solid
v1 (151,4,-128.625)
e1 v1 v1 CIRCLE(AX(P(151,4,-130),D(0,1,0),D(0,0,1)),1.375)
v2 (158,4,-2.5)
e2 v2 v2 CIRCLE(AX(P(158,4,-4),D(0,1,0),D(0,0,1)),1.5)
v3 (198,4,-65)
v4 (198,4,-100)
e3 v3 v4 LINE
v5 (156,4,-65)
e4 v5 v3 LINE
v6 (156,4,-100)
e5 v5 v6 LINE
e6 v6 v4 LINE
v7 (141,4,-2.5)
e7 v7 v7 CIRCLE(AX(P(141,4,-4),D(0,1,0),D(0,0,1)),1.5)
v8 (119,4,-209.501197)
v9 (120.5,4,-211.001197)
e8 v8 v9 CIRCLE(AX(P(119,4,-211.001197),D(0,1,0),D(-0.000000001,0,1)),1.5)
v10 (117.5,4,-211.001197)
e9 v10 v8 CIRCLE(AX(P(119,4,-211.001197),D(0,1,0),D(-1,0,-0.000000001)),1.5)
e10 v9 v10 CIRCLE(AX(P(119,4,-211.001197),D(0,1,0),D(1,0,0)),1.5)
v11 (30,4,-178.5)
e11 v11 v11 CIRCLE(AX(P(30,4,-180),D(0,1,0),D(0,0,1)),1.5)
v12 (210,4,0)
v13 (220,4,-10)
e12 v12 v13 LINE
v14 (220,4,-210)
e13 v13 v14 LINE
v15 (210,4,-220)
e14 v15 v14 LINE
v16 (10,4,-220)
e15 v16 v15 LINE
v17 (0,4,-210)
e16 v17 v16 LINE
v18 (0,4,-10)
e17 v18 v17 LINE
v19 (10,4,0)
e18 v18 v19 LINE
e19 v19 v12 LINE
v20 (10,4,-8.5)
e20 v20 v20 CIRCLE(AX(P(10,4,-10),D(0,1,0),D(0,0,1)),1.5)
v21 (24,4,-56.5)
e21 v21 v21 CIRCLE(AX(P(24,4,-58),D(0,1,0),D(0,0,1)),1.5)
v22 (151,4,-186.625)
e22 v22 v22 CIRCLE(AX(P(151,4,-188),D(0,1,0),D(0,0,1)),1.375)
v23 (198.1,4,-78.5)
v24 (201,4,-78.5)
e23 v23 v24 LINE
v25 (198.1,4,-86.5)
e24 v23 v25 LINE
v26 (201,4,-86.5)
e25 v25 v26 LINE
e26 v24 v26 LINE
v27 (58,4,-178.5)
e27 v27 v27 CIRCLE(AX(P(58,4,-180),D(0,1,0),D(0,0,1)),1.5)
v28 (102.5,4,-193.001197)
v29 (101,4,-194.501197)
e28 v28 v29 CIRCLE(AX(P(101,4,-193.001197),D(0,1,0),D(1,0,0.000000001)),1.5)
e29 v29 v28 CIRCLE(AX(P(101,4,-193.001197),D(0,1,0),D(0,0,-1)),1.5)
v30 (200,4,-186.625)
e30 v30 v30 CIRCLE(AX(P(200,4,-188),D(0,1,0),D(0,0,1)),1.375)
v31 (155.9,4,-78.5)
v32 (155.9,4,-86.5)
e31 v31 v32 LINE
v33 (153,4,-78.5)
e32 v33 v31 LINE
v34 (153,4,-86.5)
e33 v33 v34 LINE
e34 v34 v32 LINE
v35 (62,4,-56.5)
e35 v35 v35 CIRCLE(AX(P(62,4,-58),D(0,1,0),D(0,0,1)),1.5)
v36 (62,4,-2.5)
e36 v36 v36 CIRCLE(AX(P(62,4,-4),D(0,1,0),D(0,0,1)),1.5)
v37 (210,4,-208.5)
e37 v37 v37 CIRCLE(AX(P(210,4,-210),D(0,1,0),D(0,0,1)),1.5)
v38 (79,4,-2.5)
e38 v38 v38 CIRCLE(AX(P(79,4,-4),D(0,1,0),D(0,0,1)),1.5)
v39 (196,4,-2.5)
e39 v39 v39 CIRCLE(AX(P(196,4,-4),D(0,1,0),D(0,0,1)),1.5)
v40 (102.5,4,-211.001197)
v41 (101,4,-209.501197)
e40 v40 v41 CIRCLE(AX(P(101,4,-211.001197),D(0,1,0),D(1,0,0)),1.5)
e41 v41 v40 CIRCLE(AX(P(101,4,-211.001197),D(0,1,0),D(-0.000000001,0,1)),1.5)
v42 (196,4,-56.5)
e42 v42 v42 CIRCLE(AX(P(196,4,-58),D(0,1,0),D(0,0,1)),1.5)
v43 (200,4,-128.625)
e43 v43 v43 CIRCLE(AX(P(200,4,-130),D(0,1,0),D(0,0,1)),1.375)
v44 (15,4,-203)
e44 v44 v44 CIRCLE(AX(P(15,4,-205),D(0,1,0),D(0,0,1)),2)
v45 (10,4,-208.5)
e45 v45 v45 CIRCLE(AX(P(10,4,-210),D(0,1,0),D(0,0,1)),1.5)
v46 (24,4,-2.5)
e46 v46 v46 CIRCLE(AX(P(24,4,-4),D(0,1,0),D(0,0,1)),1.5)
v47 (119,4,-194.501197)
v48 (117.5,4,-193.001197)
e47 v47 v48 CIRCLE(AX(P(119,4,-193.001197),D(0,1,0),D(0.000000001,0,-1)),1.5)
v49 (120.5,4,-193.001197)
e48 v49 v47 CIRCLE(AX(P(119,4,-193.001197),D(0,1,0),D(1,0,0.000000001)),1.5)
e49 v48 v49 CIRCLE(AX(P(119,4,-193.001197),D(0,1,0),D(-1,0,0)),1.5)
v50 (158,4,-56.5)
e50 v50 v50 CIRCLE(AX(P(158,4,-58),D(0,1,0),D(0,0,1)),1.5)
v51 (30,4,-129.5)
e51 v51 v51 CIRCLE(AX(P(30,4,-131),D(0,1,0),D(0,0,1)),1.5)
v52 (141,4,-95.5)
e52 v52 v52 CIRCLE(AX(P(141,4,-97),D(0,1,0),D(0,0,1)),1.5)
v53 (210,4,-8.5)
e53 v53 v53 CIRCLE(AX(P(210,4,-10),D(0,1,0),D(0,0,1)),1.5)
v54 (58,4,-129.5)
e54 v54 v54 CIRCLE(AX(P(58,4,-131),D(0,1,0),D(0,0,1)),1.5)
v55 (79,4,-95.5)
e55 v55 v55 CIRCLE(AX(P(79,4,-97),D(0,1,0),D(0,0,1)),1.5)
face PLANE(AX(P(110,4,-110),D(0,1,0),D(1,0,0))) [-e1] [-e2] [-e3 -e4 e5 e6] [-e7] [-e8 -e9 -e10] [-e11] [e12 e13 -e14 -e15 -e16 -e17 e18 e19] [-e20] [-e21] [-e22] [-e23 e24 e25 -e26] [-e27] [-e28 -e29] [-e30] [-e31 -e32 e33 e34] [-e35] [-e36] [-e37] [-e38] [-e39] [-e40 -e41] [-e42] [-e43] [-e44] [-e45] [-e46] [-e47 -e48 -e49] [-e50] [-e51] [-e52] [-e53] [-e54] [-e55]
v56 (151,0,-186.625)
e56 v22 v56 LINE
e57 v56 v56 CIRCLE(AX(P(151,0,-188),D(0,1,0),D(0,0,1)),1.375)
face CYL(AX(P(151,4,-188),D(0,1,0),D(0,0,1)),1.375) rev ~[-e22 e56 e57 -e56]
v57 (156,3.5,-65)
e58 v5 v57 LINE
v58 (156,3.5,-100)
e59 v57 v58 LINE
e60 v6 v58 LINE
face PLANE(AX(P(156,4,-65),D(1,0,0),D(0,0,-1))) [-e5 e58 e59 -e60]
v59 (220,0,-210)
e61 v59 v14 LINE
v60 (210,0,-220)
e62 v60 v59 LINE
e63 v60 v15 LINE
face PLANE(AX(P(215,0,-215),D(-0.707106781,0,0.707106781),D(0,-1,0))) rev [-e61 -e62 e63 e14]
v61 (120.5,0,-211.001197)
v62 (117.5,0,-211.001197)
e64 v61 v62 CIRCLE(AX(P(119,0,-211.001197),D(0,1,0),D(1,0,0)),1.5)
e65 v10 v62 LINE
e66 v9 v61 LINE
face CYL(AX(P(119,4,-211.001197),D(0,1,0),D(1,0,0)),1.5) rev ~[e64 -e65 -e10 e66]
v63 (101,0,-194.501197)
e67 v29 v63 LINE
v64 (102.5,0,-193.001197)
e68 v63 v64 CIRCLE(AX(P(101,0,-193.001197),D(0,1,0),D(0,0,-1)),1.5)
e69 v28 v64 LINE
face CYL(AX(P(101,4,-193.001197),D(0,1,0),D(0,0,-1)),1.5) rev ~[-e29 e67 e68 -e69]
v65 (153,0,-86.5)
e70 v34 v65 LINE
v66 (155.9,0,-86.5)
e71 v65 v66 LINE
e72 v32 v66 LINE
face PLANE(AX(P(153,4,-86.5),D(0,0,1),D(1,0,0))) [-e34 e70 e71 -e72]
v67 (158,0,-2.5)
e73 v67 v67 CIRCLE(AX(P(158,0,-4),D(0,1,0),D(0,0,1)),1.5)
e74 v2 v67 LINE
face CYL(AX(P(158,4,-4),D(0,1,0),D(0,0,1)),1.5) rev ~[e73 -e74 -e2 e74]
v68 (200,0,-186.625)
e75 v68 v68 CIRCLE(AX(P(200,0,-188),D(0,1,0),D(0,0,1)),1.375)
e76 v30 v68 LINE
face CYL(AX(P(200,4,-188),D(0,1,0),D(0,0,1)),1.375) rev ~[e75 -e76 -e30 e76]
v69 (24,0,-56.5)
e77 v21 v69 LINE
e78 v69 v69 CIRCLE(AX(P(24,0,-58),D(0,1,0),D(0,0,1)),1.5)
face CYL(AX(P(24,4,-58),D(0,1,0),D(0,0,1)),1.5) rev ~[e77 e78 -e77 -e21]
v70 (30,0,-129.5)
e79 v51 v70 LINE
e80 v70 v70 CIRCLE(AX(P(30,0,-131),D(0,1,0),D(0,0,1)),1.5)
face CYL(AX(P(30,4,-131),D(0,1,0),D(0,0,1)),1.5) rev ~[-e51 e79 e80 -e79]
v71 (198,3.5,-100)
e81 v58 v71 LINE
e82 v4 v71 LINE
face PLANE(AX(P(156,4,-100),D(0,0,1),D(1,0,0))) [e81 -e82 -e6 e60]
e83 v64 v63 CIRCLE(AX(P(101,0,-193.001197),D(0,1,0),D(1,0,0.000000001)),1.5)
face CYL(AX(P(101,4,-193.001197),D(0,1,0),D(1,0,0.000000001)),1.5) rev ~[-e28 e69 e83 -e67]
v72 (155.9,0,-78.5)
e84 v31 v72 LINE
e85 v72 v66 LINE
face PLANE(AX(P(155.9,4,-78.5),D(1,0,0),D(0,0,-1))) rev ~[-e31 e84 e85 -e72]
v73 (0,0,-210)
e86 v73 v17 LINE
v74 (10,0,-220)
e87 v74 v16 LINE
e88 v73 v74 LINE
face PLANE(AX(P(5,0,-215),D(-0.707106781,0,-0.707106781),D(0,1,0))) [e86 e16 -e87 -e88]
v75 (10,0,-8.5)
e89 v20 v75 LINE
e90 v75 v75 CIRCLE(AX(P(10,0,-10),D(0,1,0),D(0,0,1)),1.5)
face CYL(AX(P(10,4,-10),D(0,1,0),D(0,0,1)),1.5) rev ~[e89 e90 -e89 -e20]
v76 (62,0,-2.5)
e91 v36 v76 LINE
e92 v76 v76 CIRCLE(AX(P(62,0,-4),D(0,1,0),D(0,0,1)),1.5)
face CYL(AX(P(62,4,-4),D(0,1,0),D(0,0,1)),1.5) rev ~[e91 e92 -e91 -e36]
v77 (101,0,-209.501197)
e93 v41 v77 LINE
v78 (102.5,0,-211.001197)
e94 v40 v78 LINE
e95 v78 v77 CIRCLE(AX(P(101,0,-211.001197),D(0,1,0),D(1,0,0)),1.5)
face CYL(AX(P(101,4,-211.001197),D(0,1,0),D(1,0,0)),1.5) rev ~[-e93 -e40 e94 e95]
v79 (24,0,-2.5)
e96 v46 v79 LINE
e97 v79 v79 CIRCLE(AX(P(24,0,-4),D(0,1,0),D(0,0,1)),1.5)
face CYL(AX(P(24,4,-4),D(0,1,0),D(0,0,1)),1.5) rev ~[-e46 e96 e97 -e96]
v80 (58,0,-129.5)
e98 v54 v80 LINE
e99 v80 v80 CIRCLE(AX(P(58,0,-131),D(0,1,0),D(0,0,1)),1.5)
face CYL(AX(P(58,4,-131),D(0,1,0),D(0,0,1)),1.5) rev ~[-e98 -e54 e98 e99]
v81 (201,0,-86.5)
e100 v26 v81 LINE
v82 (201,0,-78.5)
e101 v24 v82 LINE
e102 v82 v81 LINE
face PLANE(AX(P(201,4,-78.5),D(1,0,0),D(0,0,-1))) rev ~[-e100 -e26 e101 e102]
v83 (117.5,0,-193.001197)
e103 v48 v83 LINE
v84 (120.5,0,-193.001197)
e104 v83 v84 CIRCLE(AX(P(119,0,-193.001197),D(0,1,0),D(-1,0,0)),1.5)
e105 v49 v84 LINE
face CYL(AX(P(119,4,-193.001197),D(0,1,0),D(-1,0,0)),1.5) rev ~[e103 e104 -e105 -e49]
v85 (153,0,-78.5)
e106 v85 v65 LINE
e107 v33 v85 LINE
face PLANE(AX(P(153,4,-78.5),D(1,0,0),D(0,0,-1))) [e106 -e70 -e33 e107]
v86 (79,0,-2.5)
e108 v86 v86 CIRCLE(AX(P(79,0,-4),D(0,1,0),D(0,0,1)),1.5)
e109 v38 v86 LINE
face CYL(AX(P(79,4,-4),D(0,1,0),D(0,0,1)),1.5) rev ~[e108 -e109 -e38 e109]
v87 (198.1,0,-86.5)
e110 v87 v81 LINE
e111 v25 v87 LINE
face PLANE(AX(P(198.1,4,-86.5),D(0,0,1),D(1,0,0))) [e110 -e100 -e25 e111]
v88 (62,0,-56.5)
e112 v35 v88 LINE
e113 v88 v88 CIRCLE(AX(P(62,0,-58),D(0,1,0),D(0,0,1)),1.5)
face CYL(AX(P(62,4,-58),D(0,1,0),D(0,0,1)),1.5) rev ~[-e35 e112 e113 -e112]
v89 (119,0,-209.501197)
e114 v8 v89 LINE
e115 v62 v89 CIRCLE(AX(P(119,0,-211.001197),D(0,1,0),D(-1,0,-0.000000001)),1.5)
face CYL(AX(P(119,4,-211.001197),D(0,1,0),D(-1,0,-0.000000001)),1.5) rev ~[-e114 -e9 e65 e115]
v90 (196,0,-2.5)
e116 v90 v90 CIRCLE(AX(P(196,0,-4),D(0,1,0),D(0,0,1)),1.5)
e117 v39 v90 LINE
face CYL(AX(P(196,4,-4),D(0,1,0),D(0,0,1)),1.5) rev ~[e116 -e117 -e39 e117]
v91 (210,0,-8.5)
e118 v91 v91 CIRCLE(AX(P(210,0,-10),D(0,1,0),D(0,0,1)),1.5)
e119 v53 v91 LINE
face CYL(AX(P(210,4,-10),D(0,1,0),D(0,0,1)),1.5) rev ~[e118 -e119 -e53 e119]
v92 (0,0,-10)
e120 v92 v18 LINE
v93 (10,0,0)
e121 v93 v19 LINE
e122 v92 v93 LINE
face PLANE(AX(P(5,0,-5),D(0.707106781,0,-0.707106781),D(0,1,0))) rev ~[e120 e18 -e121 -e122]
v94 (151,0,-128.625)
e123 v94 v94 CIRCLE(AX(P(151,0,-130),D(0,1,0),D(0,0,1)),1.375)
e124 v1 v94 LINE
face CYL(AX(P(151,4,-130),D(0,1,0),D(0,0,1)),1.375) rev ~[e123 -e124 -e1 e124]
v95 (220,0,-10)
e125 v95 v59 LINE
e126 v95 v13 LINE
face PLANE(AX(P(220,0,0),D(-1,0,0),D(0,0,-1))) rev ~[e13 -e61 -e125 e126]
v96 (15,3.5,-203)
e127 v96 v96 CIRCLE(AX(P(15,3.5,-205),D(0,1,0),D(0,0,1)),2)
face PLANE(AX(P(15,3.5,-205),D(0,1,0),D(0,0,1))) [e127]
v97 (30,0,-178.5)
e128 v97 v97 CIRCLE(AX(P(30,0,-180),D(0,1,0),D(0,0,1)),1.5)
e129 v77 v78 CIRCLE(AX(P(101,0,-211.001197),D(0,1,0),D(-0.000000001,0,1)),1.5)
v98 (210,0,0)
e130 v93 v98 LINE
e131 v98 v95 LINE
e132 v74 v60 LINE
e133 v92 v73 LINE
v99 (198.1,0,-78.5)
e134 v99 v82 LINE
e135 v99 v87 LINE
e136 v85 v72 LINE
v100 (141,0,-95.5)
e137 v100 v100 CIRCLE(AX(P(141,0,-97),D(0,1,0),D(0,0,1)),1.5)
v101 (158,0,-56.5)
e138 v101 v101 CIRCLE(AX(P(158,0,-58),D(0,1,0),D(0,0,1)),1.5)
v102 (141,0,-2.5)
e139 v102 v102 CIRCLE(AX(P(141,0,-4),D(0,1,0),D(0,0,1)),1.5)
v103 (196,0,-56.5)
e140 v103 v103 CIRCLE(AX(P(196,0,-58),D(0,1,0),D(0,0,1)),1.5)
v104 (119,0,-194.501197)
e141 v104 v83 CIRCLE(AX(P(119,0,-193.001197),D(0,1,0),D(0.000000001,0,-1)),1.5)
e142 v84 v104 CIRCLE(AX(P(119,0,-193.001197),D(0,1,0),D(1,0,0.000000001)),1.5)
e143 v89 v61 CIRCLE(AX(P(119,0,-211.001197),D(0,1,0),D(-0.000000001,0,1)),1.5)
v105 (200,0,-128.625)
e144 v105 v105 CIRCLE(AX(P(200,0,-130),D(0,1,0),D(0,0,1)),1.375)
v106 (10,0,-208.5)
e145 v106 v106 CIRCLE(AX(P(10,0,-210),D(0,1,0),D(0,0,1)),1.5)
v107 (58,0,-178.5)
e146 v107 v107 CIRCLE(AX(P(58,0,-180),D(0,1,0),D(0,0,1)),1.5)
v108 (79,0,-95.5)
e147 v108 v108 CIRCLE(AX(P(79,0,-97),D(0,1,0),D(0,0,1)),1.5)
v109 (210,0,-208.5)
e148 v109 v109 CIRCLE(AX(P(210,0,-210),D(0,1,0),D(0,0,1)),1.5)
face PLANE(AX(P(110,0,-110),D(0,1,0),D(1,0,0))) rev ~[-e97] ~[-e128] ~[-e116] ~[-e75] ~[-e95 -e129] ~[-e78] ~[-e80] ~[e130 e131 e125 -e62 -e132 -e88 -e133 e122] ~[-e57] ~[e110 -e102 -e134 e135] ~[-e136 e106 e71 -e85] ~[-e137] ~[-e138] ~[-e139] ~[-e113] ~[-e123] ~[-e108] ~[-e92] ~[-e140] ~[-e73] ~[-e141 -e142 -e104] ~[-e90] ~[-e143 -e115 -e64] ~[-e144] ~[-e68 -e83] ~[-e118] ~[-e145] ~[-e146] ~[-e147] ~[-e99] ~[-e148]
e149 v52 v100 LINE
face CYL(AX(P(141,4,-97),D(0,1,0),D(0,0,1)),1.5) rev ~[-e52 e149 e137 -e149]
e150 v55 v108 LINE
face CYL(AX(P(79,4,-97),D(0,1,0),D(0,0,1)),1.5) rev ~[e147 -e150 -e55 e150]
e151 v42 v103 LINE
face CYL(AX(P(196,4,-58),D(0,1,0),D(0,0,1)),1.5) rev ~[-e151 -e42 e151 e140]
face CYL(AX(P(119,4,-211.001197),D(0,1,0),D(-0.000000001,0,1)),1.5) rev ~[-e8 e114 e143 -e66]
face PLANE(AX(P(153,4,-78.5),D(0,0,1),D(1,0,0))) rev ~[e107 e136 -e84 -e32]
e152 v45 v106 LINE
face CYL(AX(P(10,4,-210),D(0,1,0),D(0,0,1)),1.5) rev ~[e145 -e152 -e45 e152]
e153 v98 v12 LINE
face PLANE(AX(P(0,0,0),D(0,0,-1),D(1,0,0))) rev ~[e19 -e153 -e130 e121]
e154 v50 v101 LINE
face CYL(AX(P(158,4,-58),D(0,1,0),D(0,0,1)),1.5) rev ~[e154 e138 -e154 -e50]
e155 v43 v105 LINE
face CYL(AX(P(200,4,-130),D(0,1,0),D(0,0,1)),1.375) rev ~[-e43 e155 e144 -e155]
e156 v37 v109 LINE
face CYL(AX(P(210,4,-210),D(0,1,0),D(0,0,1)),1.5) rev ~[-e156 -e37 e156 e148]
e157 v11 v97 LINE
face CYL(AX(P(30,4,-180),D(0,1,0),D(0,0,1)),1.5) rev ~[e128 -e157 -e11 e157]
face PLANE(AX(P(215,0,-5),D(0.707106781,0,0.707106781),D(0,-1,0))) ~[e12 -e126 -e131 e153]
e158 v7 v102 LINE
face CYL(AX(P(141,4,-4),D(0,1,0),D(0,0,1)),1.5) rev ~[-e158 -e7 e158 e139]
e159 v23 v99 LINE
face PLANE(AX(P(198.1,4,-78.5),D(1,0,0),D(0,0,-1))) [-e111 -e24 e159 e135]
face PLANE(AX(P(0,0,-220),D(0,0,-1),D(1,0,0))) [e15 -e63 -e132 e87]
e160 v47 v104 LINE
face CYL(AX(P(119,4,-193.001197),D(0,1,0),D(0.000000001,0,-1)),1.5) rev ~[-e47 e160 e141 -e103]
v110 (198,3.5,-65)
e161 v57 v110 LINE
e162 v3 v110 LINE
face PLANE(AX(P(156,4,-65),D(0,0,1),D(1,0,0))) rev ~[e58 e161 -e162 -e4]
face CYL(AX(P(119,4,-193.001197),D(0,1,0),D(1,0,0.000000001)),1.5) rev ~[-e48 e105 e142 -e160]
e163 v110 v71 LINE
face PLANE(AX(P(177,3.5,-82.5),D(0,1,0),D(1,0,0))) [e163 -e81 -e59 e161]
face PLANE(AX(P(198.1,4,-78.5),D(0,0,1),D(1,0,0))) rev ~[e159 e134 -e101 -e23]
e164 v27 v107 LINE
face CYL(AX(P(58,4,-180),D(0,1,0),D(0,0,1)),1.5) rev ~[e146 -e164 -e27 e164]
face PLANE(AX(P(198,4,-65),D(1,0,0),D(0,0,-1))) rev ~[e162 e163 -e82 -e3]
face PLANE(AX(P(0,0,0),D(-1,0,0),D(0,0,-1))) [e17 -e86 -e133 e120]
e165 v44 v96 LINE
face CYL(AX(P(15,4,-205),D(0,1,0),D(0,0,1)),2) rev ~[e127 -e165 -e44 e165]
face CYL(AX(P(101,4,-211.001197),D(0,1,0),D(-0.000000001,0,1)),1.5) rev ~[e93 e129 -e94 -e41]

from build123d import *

# Parameters (mm, degrees)
SKETCH1_W           = 220
SKETCH1_H           = 220
BOSS_EXTRUDE1_DEPTH = 4
SKETCH2_R           = 1.5
CUT_EXTRUDE1_DEPTH  = 8
SKETCH3_R           = 1.5
CUT_EXTRUDE2_DEPTH  = 8
CHAMFER1_SIZE       = 10
SKETCH4_R           = 1.375
CUT_EXTRUDE3_DEPTH  = 4
SKETCH5_R           = 2
CUT_EXTRUDE4_DEPTH  = 0.5
SKETCH6_W           = 42
SKETCH6_H           = 35
CUT_EXTRUDE5_DEPTH  = 0.5
SKETCH7_W           = 2.9
SKETCH7_H           = 8
CUT_EXTRUDE6_DEPTH  = 312.152695634
SKETCH9_R           = 1.5
CUT_EXTRUDE7_DEPTH  = 8
SKETCH10_R          = 1.5
CUT_EXTRUDE8_DEPTH  = 312.152695634
CUT_EXTRUDE9_DEPTH  = 46
SKETCH12_R          = 1.5
CUT_EXTRUDE11_DEPTH = 312.152695634


with BuildPart() as part:
    # Sketch1 → Boss-Extrude1 (new body)
    with BuildSketch(Plane(origin=(0, 0, 0), x_dir=(1, 0, 0), z_dir=(0, 1, 0))):
        with Locations((110, 110)):
            Rectangle(SKETCH1_W, SKETCH1_H)
    extrude(amount=BOSS_EXTRUDE1_DEPTH)

    # Sketch2 → Cut-Extrude1 (cut)
    with BuildSketch(Plane(origin=(0, 4, 0), x_dir=(1, 0, 0), z_dir=(0, 1, 0))):
        with Locations(Location((196, 4, 0), (0, 0, 270))):
            Circle(SKETCH2_R)
        with Locations(Location((158, 4, 0), (0, 0, 270))):
            Circle(SKETCH2_R)
        with Locations(Location((196, 58, 0), (0, 0, 270))):
            Circle(SKETCH2_R)
        with Locations(Location((158, 58, 0), (0, 0, 270))):
            Circle(SKETCH2_R)
    extrude(amount=-CUT_EXTRUDE1_DEPTH, mode=Mode.SUBTRACT)

    # Sketch3 → Cut-Extrude2 (cut)
    with BuildSketch(Plane(origin=(0, 4, 0), x_dir=(1, 0, 0), z_dir=(0, 1, 0))):
        with Locations(Location((62, 4, 0), (0, 0, 270))):
            Circle(SKETCH3_R)
        with Locations(Location((24, 4, 0), (0, 0, 270))):
            Circle(SKETCH3_R)
        with Locations(Location((62, 58, 0), (0, 0, 270))):
            Circle(SKETCH3_R)
        with Locations(Location((24, 58, 0), (0, 0, 270))):
            Circle(SKETCH3_R)
    extrude(amount=-CUT_EXTRUDE2_DEPTH, mode=Mode.SUBTRACT)

    # Chamfer1
    chamfer1_edges = [part.edges().sort_by_distance(p)[0] for p in [
        (0, 2, -220),
        (220, 2, -220),
        (220, 2, 0),
        (0, 2, 0),
    ]]
    chamfer(chamfer1_edges, length=CHAMFER1_SIZE)

    # Sketch4 → Cut-Extrude3 (cut)
    with BuildSketch(Plane(origin=(0, 4, 0), x_dir=(1, 0, 0), z_dir=(0, 1, 0))):
        with Locations(Location((151, 130, 0), (0, 0, 270))):
            Circle(SKETCH4_R)
        with Locations(Location((200, 130, 0), (0, 0, 270))):
            Circle(SKETCH4_R)
        with Locations(Location((151, 188, 0), (0, 0, 270))):
            Circle(SKETCH4_R)
        with Locations(Location((200, 188, 0), (0, 0, 270))):
            Circle(SKETCH4_R)
    extrude(amount=-CUT_EXTRUDE3_DEPTH, mode=Mode.SUBTRACT)

    # Sketch5 → Cut-Extrude4 (cut)
    with BuildSketch(Plane(origin=(0, 4, 0), x_dir=(1, 0, 0), z_dir=(0, 1, 0))):
        with Locations(Location((15, 205, 0), (0, 0, 270))):
            Circle(SKETCH5_R)
    extrude(amount=-CUT_EXTRUDE4_DEPTH, mode=Mode.SUBTRACT)

    # Sketch6 → Cut-Extrude5 (cut)
    with BuildSketch(Plane(origin=(0, 4, 0), x_dir=(1, 0, 0), z_dir=(0, 1, 0))):
        with Locations((177, 82.5)):
            Rectangle(SKETCH6_W, SKETCH6_H)
    extrude(amount=-CUT_EXTRUDE5_DEPTH, mode=Mode.SUBTRACT)

    # Sketch7 → Cut-Extrude6 (cut, through all)
    with BuildSketch(Plane(origin=(0, 4, 0), x_dir=(1, 0, 0), z_dir=(0, 1, 0))):
        with Locations((199.55, 82.5)):
            Rectangle(SKETCH7_W, SKETCH7_H)
        with Locations((154.45, 82.5)):
            Rectangle(SKETCH7_W, SKETCH7_H)
    extrude(amount=-CUT_EXTRUDE6_DEPTH, mode=Mode.SUBTRACT)

    # Sketch9 → Cut-Extrude7 (cut)
    with BuildSketch(Plane(origin=(0, 4, 0), x_dir=(1, 0, 0), z_dir=(0, 1, 0))):
        with Locations(Location((30, 180, 0), (0, 0, 270))):
            Circle(SKETCH9_R)
        with Locations(Location((58, 180, 0), (0, 0, 270))):
            Circle(SKETCH9_R)
        with Locations(Location((58, 131, 0), (0, 0, 270))):
            Circle(SKETCH9_R)
        with Locations(Location((30, 131, 0), (0, 0, 270))):
            Circle(SKETCH9_R)
    extrude(amount=-CUT_EXTRUDE7_DEPTH, mode=Mode.SUBTRACT)

    # Sketch10 → Cut-Extrude8 (cut, through all)
    with BuildSketch(Plane(origin=(0, 4, 0), x_dir=(1, 0, 0), z_dir=(0, 1, 0))):
        with Locations(Location((10, 210, 0), (0, 0, 270))):
            Circle(SKETCH10_R)
        with Locations(Location((10, 10, 0), (0, 0, 270))):
            Circle(SKETCH10_R)
        with Locations(Location((210, 10, 0), (0, 0, 270))):
            Circle(SKETCH10_R)
        with Locations(Location((210, 210, 0), (0, 0, 270))):
            Circle(SKETCH10_R)
    extrude(amount=-CUT_EXTRUDE8_DEPTH, mode=Mode.SUBTRACT)

    # Sketch11 → Cut-Extrude9 (cut)
    with BuildSketch(Plane(origin=(0, 4, 0), x_dir=(1, 0, 0), z_dir=(0, 1, 0))):
        with BuildLine():
            ThreePointArc((119, 194.501197137), (117.939339828, 194.061857309), (117.5, 193.001197137))
            Line((117.5, 193.001197137), (119, 193.001197137))
            Line((119, 193.001197137), (119, 194.501197137))
        make_face()
        with BuildLine():
            Line((119, 193.001197137), (117.5, 193.001197137))
            ThreePointArc((117.5, 193.001197137), (119, 191.501197137), (120.5, 193.001197137))
            ThreePointArc((120.5, 193.001197137), (120.060660172, 194.061857309), (119, 194.501197137))
            Line((119, 194.501197137), (119, 193.001197137))
        make_face()
        with BuildLine():
            ThreePointArc((101, 194.501197137), (99.939339828, 191.940536965), (102.5, 193.001197137))
            Line((102.5, 193.001197137), (101, 193.001197137))
            Line((101, 193.001197137), (101, 194.501197137))
        make_face()
        with BuildLine():
            Line((101, 193.001197137), (102.5, 193.001197137))
            ThreePointArc((102.5, 193.001197137), (102.060660172, 194.061857309), (101, 194.501197137))
            Line((101, 194.501197137), (101, 193.001197137))
        make_face()
        with BuildLine():
            ThreePointArc((102.5, 211.001197137), (99.939339828, 212.061857309), (101, 209.501197137))
            Line((101, 209.501197137), (101, 211.001197137))
            Line((101, 211.001197137), (102.5, 211.001197137))
        make_face()
        with BuildLine():
            Line((101, 211.001197137), (101, 209.501197137))
            ThreePointArc((101, 209.501197137), (102.060660172, 209.940536965), (102.5, 211.001197137))
            Line((102.5, 211.001197137), (101, 211.001197137))
        make_face()
        with BuildLine():
            ThreePointArc((117.5, 211.001197137), (117.939339828, 209.940536965), (119, 209.501197137))
            Line((119, 209.501197137), (119, 211.001197137))
            Line((119, 211.001197137), (117.5, 211.001197137))
        make_face()
        with BuildLine():
            Line((119, 211.001197137), (119, 209.501197137))
            ThreePointArc((119, 209.501197137), (120.060660172, 209.940536965), (120.5, 211.001197137))
            ThreePointArc((120.5, 211.001197137), (119, 212.501197137), (117.5, 211.001197137))
            Line((117.5, 211.001197137), (119, 211.001197137))
        make_face()
    extrude(amount=-CUT_EXTRUDE9_DEPTH, mode=Mode.SUBTRACT)

    # Sketch12 → Cut-Extrude11 (cut, through all)
    with BuildSketch(Plane(origin=(0, 4, 0), x_dir=(1, 0, 0), z_dir=(0, 1, 0))):
        with Locations(Location((141, 4, 0), (0, 0, 270))):
            Circle(SKETCH12_R)
        with Locations(Location((79, 4, 0), (0, 0, 270))):
            Circle(SKETCH12_R)
        with Locations(Location((141, 97, 0), (0, 0, 270))):
            Circle(SKETCH12_R)
        with Locations(Location((79, 97, 0), (0, 0, 270))):
            Circle(SKETCH12_R)
    extrude(amount=-CUT_EXTRUDE11_DEPTH, mode=Mode.SUBTRACT)


solid = part.part
